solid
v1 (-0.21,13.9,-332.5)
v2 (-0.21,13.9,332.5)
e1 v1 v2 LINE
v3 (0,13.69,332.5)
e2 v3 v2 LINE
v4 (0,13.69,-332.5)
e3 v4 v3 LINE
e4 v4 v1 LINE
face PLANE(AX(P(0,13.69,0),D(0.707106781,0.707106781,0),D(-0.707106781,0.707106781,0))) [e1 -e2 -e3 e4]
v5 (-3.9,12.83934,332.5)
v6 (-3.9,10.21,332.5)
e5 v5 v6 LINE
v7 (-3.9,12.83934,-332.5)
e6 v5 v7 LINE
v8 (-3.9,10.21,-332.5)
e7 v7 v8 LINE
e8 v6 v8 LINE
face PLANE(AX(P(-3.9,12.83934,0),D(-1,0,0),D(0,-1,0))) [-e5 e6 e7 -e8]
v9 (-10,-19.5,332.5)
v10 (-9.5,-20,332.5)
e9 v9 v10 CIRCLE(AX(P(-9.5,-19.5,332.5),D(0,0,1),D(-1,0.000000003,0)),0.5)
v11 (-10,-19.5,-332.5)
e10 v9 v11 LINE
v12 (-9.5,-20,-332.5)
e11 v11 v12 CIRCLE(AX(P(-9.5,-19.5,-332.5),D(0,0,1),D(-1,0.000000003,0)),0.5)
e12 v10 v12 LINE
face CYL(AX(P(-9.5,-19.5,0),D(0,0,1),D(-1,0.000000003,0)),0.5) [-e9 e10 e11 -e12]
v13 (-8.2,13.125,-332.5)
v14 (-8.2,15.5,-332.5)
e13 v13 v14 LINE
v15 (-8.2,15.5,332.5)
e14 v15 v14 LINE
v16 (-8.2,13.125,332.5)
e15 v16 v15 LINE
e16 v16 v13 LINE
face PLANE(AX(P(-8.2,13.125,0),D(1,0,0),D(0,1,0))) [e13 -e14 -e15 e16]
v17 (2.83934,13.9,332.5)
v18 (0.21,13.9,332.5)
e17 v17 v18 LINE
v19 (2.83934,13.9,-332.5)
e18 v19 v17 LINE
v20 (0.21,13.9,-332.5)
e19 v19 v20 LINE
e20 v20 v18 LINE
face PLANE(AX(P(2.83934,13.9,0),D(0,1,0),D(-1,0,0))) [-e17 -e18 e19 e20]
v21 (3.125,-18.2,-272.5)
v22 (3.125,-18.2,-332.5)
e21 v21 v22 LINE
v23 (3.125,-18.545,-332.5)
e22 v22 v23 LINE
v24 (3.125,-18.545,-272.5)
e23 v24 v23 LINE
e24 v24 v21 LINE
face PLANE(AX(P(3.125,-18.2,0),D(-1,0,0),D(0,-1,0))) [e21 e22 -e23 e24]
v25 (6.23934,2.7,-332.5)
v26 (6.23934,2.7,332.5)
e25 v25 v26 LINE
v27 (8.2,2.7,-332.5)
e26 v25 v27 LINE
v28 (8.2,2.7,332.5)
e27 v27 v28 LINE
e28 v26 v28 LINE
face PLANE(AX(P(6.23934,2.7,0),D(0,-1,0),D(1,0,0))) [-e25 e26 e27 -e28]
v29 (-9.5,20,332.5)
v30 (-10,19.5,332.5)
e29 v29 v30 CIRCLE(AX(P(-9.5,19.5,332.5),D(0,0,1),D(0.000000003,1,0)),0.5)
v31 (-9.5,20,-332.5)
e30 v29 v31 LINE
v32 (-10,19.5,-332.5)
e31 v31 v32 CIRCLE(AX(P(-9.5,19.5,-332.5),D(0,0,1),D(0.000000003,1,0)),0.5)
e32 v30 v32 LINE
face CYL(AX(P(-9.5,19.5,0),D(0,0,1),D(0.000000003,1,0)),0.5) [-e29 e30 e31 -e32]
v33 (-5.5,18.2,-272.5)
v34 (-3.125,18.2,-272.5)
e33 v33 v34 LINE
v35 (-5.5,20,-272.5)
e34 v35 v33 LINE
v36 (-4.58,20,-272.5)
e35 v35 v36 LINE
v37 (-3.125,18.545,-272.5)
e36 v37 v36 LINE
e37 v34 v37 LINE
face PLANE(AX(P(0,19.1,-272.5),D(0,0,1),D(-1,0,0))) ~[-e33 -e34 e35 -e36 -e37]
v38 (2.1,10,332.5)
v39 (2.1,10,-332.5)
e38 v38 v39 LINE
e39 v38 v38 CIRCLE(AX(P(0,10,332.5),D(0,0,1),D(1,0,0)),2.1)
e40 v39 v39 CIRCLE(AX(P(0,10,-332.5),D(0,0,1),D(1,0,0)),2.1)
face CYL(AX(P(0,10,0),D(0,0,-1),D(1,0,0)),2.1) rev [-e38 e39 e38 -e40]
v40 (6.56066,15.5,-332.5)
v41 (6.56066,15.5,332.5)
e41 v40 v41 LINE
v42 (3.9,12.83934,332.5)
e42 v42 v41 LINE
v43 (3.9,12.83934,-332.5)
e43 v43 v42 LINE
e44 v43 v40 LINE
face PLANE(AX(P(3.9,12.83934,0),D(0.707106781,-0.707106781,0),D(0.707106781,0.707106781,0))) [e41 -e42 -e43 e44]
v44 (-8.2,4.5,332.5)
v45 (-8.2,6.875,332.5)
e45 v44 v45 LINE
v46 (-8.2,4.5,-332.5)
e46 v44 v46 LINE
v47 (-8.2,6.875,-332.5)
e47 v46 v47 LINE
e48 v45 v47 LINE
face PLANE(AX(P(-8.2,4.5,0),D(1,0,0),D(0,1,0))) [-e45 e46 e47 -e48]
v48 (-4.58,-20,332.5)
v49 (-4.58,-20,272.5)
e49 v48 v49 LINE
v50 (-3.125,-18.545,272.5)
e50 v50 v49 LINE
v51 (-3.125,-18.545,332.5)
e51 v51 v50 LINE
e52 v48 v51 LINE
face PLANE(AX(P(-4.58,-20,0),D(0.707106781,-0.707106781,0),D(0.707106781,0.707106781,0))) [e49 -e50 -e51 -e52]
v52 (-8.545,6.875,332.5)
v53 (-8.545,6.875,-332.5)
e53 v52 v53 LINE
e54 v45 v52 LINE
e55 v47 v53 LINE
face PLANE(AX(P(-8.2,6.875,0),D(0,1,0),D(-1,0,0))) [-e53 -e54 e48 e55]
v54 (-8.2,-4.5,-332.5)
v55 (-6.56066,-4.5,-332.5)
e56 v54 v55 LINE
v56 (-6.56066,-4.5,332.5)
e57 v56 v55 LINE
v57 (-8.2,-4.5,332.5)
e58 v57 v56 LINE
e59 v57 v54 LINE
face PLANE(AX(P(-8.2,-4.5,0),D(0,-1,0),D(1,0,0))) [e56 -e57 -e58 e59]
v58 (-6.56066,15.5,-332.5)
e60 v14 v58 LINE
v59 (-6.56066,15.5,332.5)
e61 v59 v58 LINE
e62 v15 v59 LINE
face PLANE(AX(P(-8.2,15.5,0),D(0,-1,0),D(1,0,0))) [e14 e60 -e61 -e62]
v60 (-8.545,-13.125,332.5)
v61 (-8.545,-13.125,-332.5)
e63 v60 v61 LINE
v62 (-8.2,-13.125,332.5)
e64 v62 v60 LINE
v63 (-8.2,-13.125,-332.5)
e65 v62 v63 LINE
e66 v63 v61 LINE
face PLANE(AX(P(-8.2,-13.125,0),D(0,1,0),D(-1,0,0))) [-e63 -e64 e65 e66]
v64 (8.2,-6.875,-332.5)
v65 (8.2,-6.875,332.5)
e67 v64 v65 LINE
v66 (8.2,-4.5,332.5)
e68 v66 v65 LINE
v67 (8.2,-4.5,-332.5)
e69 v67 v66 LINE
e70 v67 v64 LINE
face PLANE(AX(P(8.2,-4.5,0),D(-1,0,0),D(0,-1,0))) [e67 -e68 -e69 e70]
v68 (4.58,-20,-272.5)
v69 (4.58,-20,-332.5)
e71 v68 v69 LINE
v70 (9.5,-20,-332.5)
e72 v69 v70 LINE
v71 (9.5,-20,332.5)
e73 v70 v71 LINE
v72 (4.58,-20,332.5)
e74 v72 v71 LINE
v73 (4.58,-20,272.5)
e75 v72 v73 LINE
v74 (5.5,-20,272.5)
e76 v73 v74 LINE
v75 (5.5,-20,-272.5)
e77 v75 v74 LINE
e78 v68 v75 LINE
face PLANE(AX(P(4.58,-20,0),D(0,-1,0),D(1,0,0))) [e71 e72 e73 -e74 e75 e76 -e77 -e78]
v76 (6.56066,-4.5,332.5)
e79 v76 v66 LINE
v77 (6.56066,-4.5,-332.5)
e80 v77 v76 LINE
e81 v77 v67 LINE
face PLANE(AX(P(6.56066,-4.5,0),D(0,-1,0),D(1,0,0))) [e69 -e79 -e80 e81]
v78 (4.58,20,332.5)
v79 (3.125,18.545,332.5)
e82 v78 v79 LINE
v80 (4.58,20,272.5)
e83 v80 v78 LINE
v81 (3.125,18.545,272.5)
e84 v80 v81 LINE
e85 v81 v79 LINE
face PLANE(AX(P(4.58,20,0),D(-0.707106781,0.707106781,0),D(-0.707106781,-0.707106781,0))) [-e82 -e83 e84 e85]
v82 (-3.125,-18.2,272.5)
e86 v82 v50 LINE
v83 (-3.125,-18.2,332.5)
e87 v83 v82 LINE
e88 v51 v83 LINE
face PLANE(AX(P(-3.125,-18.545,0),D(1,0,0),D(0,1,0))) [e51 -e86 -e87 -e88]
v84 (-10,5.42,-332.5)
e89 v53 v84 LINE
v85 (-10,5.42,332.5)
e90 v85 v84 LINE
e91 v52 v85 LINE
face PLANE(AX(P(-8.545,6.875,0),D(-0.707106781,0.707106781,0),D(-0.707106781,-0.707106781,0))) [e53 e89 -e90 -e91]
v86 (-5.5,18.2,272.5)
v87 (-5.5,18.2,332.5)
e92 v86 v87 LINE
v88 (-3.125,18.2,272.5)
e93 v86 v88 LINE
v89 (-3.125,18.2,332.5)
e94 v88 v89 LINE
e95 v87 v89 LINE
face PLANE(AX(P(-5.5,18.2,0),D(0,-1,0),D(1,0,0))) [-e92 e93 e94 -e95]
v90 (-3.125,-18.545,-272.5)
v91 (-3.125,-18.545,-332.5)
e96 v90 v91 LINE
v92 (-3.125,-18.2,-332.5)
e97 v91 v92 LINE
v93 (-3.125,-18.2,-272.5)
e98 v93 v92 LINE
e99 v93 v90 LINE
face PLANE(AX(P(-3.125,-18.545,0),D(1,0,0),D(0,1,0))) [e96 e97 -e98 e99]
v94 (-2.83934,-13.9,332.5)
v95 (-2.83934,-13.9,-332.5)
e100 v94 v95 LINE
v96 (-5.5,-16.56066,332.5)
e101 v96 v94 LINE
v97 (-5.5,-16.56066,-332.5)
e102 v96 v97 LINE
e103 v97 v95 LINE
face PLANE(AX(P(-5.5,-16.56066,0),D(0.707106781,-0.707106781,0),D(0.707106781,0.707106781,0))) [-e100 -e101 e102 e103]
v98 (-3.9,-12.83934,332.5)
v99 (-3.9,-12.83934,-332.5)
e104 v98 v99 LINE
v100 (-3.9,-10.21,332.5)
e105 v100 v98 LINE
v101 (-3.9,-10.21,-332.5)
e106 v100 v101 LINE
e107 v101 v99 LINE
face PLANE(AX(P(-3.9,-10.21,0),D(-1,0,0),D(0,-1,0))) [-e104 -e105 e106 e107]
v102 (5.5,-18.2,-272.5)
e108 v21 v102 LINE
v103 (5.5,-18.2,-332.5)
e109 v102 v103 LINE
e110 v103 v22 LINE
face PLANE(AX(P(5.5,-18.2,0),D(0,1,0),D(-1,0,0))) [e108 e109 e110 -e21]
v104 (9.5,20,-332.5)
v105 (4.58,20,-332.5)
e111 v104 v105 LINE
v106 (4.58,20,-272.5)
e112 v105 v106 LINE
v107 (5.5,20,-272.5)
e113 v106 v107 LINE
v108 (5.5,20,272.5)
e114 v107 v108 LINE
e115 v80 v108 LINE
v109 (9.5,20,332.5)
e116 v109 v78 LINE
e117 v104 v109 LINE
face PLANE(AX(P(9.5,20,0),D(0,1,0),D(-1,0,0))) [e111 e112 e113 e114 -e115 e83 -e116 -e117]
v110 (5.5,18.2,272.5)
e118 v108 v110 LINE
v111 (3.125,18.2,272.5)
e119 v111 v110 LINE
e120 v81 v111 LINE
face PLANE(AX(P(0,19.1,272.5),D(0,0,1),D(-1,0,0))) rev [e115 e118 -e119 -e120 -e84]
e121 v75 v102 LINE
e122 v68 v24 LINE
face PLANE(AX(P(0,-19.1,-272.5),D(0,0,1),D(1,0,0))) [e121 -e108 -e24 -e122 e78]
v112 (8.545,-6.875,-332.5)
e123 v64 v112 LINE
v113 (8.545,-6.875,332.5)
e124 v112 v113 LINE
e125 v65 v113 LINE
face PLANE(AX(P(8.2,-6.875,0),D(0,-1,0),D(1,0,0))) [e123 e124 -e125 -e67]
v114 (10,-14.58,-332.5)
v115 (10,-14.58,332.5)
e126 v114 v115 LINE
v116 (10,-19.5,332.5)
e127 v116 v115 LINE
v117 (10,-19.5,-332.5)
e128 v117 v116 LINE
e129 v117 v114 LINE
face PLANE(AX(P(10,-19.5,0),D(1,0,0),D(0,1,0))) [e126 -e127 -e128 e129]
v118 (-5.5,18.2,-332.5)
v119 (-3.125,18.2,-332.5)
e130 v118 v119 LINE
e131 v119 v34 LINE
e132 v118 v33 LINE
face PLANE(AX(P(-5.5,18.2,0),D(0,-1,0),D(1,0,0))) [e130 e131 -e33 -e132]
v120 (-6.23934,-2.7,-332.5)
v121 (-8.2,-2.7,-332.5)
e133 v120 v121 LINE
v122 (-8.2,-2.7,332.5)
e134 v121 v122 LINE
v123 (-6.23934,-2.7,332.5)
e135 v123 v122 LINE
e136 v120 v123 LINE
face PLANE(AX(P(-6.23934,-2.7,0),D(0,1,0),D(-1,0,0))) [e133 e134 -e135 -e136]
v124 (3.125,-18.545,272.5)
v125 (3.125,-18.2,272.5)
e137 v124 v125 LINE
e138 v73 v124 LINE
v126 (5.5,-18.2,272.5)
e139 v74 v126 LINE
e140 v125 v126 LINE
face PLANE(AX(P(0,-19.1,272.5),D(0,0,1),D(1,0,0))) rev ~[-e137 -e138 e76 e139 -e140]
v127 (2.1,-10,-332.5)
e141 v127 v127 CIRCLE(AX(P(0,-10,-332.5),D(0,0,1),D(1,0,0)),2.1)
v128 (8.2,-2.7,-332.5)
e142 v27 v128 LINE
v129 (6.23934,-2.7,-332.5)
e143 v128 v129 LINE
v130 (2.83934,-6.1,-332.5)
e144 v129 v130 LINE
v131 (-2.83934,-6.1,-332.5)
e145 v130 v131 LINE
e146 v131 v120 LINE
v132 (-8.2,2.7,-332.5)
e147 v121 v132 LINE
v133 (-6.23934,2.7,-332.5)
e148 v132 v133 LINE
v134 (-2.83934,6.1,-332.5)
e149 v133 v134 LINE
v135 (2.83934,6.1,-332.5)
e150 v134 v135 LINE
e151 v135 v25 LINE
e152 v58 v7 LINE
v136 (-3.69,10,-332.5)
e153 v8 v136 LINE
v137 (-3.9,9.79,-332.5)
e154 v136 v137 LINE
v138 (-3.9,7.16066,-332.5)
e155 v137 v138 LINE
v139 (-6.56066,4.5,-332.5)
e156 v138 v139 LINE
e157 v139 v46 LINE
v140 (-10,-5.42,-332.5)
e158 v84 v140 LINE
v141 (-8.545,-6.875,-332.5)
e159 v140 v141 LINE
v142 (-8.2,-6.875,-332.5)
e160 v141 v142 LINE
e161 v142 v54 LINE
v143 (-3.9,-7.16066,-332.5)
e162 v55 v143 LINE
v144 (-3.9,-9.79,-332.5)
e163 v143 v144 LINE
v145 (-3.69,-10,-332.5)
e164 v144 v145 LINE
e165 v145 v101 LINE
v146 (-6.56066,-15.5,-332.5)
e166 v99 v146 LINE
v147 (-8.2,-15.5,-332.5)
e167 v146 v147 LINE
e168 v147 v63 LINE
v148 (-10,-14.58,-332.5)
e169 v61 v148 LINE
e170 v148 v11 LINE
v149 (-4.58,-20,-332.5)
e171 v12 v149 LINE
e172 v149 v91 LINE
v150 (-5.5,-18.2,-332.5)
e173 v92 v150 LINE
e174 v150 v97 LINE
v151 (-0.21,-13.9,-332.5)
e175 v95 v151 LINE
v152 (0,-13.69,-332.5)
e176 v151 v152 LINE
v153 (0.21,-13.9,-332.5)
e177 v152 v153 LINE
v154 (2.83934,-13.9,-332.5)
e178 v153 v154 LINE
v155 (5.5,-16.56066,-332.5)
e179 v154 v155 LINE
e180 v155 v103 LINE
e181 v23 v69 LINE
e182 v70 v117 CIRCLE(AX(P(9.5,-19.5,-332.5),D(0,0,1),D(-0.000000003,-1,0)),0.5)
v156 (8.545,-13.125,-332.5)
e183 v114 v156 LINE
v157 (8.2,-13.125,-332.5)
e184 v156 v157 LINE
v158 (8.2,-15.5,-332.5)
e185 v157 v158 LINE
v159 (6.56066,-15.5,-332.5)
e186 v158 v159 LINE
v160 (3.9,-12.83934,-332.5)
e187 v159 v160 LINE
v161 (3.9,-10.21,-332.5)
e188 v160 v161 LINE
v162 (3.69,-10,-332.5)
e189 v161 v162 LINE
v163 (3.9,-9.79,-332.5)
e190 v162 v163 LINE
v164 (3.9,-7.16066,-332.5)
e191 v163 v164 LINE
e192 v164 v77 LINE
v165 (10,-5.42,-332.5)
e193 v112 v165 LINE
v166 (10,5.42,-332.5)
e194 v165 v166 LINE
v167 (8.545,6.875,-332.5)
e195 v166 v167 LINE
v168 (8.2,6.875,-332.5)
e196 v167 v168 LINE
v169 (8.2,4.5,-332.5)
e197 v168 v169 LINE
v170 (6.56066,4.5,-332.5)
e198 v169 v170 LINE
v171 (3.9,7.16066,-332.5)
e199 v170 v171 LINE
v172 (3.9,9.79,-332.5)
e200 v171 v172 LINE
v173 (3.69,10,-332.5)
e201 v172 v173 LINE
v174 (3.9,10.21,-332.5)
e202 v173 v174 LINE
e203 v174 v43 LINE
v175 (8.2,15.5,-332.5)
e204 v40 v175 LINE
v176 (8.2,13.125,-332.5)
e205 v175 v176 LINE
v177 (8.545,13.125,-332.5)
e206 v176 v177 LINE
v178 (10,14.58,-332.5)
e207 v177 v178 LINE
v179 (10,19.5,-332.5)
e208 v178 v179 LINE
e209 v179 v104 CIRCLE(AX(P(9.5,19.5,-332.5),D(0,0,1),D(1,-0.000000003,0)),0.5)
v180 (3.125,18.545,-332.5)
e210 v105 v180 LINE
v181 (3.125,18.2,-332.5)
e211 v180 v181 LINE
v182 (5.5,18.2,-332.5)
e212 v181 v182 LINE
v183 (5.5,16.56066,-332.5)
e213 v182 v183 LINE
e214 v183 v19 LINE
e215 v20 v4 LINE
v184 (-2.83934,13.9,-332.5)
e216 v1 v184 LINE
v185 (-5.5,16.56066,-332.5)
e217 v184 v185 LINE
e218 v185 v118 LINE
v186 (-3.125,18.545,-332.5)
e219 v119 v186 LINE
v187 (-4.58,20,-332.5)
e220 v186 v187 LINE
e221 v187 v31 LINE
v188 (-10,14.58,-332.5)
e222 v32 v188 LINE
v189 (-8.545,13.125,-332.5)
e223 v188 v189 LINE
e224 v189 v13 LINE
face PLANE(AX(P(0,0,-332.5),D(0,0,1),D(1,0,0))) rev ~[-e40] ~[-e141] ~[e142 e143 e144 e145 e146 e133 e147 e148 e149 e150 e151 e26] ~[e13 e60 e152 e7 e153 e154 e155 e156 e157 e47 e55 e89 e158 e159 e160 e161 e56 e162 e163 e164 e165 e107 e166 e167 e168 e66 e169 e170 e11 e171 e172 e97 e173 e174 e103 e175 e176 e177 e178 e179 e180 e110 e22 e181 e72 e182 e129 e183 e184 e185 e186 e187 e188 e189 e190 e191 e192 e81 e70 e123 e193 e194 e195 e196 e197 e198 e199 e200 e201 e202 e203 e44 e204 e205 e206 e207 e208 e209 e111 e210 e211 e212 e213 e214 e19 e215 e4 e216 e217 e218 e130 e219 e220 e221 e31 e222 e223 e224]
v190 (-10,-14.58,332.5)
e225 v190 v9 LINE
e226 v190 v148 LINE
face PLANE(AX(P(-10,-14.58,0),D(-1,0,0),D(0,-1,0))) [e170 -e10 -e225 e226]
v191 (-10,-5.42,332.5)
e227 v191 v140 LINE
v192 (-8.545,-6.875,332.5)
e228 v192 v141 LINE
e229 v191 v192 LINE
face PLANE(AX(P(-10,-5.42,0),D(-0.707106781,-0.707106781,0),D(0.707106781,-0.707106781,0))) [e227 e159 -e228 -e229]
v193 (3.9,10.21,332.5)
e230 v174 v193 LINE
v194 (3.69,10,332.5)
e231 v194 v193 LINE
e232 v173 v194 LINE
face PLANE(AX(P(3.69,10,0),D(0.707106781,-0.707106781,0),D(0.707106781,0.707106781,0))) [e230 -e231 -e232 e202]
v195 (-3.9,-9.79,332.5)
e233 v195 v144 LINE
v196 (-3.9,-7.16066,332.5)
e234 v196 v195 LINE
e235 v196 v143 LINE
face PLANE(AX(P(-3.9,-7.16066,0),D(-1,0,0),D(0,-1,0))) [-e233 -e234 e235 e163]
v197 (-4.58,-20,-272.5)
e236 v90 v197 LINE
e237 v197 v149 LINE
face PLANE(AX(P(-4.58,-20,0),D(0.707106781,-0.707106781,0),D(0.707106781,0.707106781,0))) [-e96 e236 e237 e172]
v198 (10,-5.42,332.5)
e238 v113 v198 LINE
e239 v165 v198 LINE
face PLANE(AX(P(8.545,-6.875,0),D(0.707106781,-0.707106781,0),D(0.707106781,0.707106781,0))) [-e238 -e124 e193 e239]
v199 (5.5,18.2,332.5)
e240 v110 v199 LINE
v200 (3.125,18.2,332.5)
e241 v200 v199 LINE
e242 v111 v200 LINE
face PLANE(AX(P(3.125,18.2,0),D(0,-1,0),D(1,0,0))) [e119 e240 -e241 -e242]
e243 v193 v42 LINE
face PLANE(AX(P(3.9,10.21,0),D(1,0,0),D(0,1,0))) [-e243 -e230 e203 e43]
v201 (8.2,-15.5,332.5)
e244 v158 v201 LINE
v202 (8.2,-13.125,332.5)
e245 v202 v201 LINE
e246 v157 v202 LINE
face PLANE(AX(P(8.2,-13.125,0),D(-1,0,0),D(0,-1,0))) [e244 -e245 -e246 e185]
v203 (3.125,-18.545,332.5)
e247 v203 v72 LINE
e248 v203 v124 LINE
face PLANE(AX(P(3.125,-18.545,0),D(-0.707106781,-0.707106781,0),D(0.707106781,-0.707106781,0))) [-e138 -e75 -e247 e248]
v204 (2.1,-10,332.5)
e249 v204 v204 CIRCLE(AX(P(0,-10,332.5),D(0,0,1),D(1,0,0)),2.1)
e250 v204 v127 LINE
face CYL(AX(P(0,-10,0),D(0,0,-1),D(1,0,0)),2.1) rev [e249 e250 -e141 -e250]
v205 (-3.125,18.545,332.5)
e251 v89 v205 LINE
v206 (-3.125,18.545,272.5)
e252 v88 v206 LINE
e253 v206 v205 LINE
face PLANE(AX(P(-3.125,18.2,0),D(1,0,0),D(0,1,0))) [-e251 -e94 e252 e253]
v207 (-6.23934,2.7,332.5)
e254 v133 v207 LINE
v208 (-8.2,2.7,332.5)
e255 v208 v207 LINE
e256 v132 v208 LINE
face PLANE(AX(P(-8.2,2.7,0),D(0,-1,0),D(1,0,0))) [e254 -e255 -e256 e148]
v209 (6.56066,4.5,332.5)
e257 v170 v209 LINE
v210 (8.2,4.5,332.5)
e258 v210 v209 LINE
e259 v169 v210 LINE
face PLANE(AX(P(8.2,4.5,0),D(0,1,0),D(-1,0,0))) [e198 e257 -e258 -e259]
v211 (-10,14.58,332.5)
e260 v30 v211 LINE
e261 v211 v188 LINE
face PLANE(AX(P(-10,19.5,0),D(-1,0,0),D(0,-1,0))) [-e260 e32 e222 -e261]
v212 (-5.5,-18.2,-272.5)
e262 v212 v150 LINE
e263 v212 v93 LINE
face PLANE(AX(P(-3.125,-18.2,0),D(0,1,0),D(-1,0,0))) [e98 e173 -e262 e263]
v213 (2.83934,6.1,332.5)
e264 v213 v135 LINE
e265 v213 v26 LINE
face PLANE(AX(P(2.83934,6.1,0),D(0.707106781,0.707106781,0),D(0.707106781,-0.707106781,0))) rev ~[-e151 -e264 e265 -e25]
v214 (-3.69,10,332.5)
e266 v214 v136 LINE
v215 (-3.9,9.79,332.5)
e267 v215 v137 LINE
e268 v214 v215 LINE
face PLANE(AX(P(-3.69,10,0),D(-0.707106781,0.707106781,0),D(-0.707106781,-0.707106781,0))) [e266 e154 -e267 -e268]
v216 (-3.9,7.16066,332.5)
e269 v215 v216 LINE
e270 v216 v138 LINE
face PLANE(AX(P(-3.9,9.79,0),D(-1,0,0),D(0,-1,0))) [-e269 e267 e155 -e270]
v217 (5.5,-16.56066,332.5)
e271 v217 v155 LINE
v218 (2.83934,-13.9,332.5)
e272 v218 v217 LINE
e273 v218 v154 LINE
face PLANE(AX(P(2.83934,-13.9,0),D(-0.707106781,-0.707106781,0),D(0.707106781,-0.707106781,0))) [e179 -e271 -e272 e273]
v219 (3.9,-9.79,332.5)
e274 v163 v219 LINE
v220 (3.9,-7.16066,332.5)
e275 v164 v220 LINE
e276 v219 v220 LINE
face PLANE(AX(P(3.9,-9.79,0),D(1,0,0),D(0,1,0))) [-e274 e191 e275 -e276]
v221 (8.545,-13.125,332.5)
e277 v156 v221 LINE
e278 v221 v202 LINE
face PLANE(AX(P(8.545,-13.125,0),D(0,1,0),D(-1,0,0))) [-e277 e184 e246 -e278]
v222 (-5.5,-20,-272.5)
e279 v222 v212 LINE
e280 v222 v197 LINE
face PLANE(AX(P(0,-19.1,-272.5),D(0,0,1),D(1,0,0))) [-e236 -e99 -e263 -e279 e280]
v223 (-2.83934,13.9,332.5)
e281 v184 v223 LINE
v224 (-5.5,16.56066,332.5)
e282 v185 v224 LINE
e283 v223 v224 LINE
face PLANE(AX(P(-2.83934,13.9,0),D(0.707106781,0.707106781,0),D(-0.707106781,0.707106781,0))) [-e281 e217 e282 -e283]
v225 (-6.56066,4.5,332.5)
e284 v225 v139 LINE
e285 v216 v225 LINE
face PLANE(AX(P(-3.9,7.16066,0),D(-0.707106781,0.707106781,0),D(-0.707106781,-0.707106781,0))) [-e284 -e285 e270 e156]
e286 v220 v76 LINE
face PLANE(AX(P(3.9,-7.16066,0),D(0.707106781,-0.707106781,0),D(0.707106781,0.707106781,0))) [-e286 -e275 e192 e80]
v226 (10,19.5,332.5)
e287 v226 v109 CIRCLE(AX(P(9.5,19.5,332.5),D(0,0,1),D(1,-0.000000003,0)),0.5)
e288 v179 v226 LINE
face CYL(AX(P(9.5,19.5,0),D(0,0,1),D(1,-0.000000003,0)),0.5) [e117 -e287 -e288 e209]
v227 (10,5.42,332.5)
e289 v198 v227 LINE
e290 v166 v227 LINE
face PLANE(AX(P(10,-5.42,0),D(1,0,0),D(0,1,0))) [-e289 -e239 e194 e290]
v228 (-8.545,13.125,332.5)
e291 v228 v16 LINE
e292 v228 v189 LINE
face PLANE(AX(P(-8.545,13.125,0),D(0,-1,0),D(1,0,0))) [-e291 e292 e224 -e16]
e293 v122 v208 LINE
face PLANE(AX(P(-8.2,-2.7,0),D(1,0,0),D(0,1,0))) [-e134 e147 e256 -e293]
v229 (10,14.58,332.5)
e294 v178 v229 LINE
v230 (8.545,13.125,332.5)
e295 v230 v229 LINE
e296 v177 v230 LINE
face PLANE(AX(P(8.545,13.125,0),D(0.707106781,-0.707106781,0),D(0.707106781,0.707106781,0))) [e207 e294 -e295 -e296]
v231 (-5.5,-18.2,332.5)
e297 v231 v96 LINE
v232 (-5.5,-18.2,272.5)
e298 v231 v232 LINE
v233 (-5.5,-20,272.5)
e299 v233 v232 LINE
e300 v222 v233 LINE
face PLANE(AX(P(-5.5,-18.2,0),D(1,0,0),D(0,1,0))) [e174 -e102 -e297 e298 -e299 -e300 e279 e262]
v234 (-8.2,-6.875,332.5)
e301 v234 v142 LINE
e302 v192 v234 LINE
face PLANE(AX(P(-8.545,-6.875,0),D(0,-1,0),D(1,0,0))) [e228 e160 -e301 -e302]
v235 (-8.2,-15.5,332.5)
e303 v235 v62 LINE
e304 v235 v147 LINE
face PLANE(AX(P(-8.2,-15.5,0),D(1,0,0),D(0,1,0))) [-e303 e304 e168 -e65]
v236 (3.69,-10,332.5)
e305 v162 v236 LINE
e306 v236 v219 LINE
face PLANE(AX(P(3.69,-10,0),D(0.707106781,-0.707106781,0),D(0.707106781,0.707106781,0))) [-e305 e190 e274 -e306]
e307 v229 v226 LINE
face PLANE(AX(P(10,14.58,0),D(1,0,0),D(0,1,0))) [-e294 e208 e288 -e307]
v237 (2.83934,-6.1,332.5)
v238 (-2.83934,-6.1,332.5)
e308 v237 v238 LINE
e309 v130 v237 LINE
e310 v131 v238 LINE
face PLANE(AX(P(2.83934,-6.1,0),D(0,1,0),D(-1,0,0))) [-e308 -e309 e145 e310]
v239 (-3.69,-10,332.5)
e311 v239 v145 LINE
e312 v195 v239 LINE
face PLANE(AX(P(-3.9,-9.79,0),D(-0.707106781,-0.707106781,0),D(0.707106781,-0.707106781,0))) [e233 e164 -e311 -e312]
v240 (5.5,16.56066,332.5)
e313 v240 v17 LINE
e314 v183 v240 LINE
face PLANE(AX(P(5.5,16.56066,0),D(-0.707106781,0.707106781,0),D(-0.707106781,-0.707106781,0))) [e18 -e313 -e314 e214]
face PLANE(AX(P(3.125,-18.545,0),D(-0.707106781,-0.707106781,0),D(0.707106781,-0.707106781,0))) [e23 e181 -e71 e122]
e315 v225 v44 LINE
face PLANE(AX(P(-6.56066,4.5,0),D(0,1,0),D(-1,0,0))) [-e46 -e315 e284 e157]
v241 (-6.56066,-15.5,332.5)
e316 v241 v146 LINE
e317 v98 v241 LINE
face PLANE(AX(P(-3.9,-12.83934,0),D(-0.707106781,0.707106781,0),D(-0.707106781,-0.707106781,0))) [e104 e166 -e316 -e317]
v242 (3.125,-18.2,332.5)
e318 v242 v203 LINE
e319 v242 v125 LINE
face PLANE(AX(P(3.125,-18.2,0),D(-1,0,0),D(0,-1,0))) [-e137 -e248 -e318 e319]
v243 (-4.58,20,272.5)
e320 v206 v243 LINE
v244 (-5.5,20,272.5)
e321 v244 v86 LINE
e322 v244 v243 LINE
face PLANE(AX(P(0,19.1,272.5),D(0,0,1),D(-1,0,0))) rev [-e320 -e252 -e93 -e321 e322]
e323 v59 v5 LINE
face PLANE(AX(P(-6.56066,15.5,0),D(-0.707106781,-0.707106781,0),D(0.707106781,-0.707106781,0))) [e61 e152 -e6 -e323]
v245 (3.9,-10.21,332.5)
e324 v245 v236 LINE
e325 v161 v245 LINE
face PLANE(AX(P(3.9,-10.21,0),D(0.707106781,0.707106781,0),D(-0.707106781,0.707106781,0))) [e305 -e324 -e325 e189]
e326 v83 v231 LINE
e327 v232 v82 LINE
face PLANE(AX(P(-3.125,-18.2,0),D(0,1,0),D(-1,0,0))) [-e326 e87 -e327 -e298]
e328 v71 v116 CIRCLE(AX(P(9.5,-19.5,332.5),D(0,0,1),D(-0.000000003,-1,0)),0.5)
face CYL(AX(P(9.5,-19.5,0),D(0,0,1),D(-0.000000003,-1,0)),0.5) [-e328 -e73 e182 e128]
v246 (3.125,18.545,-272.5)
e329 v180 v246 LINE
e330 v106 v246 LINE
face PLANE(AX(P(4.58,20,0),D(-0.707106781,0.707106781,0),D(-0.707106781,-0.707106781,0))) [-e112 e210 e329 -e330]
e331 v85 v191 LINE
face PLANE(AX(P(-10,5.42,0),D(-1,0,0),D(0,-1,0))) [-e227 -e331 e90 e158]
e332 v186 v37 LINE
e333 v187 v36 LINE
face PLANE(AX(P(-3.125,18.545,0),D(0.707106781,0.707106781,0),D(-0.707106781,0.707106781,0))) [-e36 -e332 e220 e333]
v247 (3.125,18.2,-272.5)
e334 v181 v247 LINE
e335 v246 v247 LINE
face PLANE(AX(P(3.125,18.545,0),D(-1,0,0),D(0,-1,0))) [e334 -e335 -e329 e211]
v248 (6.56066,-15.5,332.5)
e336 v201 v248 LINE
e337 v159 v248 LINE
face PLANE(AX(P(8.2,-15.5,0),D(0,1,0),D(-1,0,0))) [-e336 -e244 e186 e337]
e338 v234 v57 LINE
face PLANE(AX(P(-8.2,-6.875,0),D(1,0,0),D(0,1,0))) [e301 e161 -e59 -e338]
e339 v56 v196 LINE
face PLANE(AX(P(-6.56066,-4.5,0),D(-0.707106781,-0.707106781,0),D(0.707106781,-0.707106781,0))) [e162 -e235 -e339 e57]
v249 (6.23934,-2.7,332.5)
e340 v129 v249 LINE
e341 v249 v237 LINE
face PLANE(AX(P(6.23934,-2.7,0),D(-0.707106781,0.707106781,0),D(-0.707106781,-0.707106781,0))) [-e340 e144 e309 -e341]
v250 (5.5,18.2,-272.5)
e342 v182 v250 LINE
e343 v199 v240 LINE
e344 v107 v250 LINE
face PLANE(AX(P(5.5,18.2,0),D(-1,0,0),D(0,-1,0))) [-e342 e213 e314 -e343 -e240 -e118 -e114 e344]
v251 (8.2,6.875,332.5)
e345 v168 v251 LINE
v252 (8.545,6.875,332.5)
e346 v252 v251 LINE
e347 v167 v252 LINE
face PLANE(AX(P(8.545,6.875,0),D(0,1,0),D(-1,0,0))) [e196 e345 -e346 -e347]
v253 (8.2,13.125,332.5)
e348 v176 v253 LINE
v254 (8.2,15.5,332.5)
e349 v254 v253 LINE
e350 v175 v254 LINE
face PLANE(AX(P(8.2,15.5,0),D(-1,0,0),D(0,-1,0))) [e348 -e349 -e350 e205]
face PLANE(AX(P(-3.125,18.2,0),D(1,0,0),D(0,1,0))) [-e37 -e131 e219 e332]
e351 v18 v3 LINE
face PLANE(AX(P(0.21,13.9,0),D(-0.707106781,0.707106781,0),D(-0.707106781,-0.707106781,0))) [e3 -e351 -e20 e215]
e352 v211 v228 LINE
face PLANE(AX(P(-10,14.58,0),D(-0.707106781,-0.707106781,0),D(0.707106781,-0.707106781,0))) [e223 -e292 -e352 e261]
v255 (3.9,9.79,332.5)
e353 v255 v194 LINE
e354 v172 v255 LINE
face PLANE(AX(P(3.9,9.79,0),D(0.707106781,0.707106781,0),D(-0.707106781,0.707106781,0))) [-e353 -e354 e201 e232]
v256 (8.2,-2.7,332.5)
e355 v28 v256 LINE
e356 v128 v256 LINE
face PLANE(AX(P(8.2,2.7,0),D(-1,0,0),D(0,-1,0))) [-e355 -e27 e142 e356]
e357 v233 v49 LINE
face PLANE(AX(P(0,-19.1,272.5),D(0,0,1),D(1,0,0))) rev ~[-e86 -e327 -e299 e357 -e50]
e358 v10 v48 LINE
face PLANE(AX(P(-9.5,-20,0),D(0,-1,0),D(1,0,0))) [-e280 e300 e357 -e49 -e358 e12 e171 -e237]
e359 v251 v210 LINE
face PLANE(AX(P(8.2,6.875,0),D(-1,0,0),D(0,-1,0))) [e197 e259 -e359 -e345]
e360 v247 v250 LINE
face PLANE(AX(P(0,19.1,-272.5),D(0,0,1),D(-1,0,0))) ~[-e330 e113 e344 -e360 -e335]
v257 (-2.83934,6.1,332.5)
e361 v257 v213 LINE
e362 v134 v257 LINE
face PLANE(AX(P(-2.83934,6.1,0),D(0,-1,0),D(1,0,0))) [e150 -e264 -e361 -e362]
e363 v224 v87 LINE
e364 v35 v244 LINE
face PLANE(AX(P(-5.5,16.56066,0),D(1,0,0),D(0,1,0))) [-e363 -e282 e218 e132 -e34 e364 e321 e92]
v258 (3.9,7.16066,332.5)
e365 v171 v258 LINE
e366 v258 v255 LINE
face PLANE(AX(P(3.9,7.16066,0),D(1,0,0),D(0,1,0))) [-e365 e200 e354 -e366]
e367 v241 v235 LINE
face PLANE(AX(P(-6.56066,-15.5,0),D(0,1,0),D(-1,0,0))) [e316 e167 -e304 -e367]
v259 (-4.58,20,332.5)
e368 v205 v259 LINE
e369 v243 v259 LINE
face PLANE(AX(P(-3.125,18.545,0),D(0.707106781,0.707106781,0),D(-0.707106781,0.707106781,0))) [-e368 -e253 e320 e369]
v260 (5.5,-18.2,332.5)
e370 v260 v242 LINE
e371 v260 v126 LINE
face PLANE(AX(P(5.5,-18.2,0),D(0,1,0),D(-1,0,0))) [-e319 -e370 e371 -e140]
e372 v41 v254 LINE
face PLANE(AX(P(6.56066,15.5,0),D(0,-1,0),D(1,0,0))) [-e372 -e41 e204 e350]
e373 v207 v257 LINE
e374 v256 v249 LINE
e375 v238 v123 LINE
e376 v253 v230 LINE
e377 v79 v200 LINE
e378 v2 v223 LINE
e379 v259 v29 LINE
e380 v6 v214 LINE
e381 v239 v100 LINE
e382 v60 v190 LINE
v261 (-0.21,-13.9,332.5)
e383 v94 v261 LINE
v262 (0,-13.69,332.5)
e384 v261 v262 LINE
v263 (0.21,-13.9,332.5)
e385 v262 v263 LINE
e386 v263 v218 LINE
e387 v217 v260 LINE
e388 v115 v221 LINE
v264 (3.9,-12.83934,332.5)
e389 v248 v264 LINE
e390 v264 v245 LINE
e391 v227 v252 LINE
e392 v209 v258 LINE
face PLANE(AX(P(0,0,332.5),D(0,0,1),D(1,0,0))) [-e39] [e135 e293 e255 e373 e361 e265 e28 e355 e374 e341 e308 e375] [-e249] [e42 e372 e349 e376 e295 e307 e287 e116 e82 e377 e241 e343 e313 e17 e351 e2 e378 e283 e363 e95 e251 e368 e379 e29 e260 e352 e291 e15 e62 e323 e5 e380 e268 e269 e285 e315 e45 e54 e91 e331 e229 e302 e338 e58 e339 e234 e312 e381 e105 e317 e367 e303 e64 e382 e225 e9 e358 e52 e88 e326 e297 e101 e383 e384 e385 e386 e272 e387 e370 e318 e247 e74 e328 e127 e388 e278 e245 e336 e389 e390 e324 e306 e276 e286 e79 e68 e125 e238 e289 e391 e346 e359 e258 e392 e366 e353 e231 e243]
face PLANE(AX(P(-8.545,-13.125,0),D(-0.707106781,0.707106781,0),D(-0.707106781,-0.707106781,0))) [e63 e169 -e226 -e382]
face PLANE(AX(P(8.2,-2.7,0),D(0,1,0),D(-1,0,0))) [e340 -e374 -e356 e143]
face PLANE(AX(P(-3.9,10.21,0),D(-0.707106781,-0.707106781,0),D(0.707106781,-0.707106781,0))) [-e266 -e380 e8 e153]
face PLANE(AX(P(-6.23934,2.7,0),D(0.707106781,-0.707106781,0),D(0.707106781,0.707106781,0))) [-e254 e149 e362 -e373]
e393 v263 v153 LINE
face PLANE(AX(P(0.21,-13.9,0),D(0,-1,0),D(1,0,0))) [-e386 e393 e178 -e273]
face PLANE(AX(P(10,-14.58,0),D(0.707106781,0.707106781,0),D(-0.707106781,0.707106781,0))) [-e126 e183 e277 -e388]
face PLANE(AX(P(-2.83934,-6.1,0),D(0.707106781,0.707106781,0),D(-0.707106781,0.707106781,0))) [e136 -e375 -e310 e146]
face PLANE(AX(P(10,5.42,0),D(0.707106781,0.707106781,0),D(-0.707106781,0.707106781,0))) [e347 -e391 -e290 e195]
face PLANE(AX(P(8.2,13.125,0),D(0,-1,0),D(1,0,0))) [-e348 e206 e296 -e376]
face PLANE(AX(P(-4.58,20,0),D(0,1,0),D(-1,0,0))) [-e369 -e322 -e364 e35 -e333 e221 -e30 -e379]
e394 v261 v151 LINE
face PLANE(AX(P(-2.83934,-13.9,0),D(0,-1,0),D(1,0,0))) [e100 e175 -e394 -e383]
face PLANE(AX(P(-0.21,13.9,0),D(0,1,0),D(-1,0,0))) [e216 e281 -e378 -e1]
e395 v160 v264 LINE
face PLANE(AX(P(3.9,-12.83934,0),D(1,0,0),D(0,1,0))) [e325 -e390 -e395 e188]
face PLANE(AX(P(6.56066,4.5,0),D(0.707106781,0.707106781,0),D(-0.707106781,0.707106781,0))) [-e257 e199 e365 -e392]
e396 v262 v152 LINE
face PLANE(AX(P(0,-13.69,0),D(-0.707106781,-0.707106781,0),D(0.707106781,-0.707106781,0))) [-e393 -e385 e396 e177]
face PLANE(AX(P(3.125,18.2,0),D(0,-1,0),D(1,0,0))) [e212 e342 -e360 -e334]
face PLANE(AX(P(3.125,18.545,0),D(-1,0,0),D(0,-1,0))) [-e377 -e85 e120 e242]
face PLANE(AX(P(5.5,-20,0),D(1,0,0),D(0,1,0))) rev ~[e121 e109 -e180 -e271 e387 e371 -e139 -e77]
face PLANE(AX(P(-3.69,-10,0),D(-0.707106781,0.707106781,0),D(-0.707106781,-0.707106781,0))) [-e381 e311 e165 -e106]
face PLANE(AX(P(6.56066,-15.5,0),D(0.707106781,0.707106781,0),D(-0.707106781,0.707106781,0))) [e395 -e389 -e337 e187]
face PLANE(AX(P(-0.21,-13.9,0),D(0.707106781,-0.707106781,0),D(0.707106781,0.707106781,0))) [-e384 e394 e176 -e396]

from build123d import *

# Parameters (mm, degrees)
SKETCH1_R           = 2.1
BOSS_EXTRUDE1_DEPTH = 332.5
SKETCH2_W           = 11
SKETCH2_H           = 1.8
CUT_EXTRUDE1_DEPTH  = 272.5


with BuildPart() as part:
    # Sketch1 → Boss-Extrude1 (new, symmetric)
    with BuildSketch(Plane.XY):
        with BuildLine():
            Line((4.58, -20), (9.5, -20))
            ThreePointArc((9.5, -20), (9.853553391, -19.853553391), (10, -19.5))
            Line((10, -19.5), (10, -14.58))
            Line((10, -14.58), (8.545, -13.125))
            Line((8.545, -13.125), (8.2, -13.125))
            Line((8.2, -13.125), (8.2, -15.5))
            Line((8.2, -15.5), (6.560660172, -15.5))
            Line((6.560660172, -15.5), (3.9, -12.839339828))
            Line((3.9, -12.839339828), (3.9, -10.21))
            Line((3.9, -10.21), (3.69, -10))
            Line((3.69, -10), (3.9, -9.79))
            Line((3.9, -9.79), (3.9, -7.160660172))
            Line((3.9, -7.160660172), (6.560660172, -4.5))
            Line((6.560660172, -4.5), (8.2, -4.5))
            Line((8.2, -4.5), (8.2, -6.875))
            Line((8.2, -6.875), (8.545, -6.875))
            Line((8.545, -6.875), (10, -5.42))
            Line((10, -5.42), (10, 5.42))
            Line((10, 5.42), (8.545, 6.875))
            Line((8.545, 6.875), (8.2, 6.875))
            Line((8.2, 6.875), (8.2, 4.5))
            Line((8.2, 4.5), (6.560660172, 4.5))
            Line((6.560660172, 4.5), (3.9, 7.160660172))
            Line((3.9, 7.160660172), (3.9, 9.79))
            Line((3.9, 9.79), (3.69, 10))
            Line((3.69, 10), (3.9, 10.21))
            Line((3.9, 10.21), (3.9, 12.839339828))
            Line((3.9, 12.839339828), (6.560660172, 15.5))
            Line((6.560660172, 15.5), (8.2, 15.5))
            Line((8.2, 15.5), (8.2, 13.125))
            Line((8.2, 13.125), (8.545, 13.125))
            Line((8.545, 13.125), (10, 14.58))
            Line((10, 14.58), (10, 19.5))
            ThreePointArc((10, 19.5), (9.853553391, 19.853553391), (9.5, 20))
            Line((9.5, 20), (4.58, 20))
            Line((4.58, 20), (3.125, 18.545))
            Line((3.125, 18.545), (3.125, 18.2))
            Line((3.125, 18.2), (5.5, 18.2))
            Line((5.5, 18.2), (5.5, 16.560660172))
            Line((5.5, 16.560660172), (2.839339828, 13.9))
            Line((2.839339828, 13.9), (0.21, 13.9))
            Line((0.21, 13.9), (0, 13.69))
            Line((0, 13.69), (-0.21, 13.9))
            Line((-0.21, 13.9), (-2.839339828, 13.9))
            Line((-2.839339828, 13.9), (-5.5, 16.560660172))
            Line((-5.5, 16.560660172), (-5.5, 18.2))
            Line((-5.5, 18.2), (-3.125, 18.2))
            Line((-3.125, 18.2), (-3.125, 18.545))
            Line((-3.125, 18.545), (-4.58, 20))
            Line((-4.58, 20), (-9.5, 20))
            ThreePointArc((-9.5, 20), (-9.853553391, 19.853553391), (-10, 19.5))
            Line((-10, 19.5), (-10, 14.58))
            Line((-10, 14.58), (-8.545, 13.125))
            Line((-8.545, 13.125), (-8.2, 13.125))
            Line((-8.2, 13.125), (-8.2, 15.5))
            Line((-8.2, 15.5), (-6.560660172, 15.5))
            Line((-6.560660172, 15.5), (-3.9, 12.839339828))
            Line((-3.9, 12.839339828), (-3.9, 10.21))
            Line((-3.9, 10.21), (-3.69, 10))
            Line((-3.69, 10), (-3.9, 9.79))
            Line((-3.9, 9.79), (-3.9, 7.160660172))
            Line((-3.9, 7.160660172), (-6.560660172, 4.5))
            Line((-6.560660172, 4.5), (-8.2, 4.5))
            Line((-8.2, 4.5), (-8.2, 6.875))
            Line((-8.2, 6.875), (-8.545, 6.875))
            Line((-8.545, 6.875), (-10, 5.42))
            Line((-10, 5.42), (-10, -5.42))
            Line((-10, -5.42), (-8.545, -6.875))
            Line((-8.545, -6.875), (-8.2, -6.875))
            Line((-8.2, -6.875), (-8.2, -4.5))
            Line((-8.2, -4.5), (-6.560660172, -4.5))
            Line((-6.560660172, -4.5), (-3.9, -7.160660172))
            Line((-3.9, -7.160660172), (-3.9, -9.79))
            Line((-3.9, -9.79), (-3.69, -10))
            Line((-3.69, -10), (-3.9, -10.21))
            Line((-3.9, -10.21), (-3.9, -12.839339828))
            Line((-3.9, -12.839339828), (-6.560660172, -15.5))
            Line((-6.560660172, -15.5), (-8.2, -15.5))
            Line((-8.2, -15.5), (-8.2, -13.125))
            Line((-8.2, -13.125), (-8.545, -13.125))
            Line((-8.545, -13.125), (-10, -14.58))
            Line((-10, -14.58), (-10, -19.5))
            ThreePointArc((-10, -19.5), (-9.853553391, -19.853553391), (-9.5, -20))
            Line((-9.5, -20), (-4.58, -20))
            Line((-4.58, -20), (-3.125, -18.545))
            Line((-3.125, -18.545), (-3.125, -18.2))
            Line((-3.125, -18.2), (-5.5, -18.2))
            Line((-5.5, -18.2), (-5.5, -16.560660172))
            Line((-5.5, -16.560660172), (-2.839339828, -13.9))
            Line((-2.839339828, -13.9), (-0.21, -13.9))
            Line((-0.21, -13.9), (0, -13.69))
            Line((0, -13.69), (0.21, -13.9))
            Line((0.21, -13.9), (2.839339828, -13.9))
            Line((2.839339828, -13.9), (5.5, -16.560660172))
            Line((5.5, -16.560660172), (5.5, -18.2))
            Line((5.5, -18.2), (3.125, -18.2))
            Line((3.125, -18.2), (3.125, -18.545))
            Line((3.125, -18.545), (4.58, -20))
        make_face()
        with Locations((0, -10)):
            Circle(SKETCH1_R, mode=Mode.SUBTRACT)
        Polygon((-6.239339828, -2.7), (-8.2, -2.7), (-8.2, 2.7), (-6.239339828, 2.7), (-2.839339828, 6.1), (2.839339828, 6.1), (6.239339828, 2.7), (8.2, 2.7), (8.2, -2.7), (6.239339828, -2.7), (2.839339828, -6.1), (-2.839339828, -6.1), align=None, mode=Mode.SUBTRACT)
        with Locations((0, 10)):
            Circle(SKETCH1_R, mode=Mode.SUBTRACT)
    extrude(amount=BOSS_EXTRUDE1_DEPTH, both=True)

    # Sketch2 → Cut-Extrude1 (cut, symmetric)
    with BuildSketch(Plane.XY):
        with Locations((0, -19.1)):
            Rectangle(SKETCH2_W, SKETCH2_H)
    cut_extrude1 = extrude(amount=CUT_EXTRUDE1_DEPTH, both=True, mode=Mode.SUBTRACT)

    # Mirror1: Cut-Extrude1 across plane
    add(cut_extrude1.mirror(Plane.ZX), mode=Mode.SUBTRACT)


solid = part.part
